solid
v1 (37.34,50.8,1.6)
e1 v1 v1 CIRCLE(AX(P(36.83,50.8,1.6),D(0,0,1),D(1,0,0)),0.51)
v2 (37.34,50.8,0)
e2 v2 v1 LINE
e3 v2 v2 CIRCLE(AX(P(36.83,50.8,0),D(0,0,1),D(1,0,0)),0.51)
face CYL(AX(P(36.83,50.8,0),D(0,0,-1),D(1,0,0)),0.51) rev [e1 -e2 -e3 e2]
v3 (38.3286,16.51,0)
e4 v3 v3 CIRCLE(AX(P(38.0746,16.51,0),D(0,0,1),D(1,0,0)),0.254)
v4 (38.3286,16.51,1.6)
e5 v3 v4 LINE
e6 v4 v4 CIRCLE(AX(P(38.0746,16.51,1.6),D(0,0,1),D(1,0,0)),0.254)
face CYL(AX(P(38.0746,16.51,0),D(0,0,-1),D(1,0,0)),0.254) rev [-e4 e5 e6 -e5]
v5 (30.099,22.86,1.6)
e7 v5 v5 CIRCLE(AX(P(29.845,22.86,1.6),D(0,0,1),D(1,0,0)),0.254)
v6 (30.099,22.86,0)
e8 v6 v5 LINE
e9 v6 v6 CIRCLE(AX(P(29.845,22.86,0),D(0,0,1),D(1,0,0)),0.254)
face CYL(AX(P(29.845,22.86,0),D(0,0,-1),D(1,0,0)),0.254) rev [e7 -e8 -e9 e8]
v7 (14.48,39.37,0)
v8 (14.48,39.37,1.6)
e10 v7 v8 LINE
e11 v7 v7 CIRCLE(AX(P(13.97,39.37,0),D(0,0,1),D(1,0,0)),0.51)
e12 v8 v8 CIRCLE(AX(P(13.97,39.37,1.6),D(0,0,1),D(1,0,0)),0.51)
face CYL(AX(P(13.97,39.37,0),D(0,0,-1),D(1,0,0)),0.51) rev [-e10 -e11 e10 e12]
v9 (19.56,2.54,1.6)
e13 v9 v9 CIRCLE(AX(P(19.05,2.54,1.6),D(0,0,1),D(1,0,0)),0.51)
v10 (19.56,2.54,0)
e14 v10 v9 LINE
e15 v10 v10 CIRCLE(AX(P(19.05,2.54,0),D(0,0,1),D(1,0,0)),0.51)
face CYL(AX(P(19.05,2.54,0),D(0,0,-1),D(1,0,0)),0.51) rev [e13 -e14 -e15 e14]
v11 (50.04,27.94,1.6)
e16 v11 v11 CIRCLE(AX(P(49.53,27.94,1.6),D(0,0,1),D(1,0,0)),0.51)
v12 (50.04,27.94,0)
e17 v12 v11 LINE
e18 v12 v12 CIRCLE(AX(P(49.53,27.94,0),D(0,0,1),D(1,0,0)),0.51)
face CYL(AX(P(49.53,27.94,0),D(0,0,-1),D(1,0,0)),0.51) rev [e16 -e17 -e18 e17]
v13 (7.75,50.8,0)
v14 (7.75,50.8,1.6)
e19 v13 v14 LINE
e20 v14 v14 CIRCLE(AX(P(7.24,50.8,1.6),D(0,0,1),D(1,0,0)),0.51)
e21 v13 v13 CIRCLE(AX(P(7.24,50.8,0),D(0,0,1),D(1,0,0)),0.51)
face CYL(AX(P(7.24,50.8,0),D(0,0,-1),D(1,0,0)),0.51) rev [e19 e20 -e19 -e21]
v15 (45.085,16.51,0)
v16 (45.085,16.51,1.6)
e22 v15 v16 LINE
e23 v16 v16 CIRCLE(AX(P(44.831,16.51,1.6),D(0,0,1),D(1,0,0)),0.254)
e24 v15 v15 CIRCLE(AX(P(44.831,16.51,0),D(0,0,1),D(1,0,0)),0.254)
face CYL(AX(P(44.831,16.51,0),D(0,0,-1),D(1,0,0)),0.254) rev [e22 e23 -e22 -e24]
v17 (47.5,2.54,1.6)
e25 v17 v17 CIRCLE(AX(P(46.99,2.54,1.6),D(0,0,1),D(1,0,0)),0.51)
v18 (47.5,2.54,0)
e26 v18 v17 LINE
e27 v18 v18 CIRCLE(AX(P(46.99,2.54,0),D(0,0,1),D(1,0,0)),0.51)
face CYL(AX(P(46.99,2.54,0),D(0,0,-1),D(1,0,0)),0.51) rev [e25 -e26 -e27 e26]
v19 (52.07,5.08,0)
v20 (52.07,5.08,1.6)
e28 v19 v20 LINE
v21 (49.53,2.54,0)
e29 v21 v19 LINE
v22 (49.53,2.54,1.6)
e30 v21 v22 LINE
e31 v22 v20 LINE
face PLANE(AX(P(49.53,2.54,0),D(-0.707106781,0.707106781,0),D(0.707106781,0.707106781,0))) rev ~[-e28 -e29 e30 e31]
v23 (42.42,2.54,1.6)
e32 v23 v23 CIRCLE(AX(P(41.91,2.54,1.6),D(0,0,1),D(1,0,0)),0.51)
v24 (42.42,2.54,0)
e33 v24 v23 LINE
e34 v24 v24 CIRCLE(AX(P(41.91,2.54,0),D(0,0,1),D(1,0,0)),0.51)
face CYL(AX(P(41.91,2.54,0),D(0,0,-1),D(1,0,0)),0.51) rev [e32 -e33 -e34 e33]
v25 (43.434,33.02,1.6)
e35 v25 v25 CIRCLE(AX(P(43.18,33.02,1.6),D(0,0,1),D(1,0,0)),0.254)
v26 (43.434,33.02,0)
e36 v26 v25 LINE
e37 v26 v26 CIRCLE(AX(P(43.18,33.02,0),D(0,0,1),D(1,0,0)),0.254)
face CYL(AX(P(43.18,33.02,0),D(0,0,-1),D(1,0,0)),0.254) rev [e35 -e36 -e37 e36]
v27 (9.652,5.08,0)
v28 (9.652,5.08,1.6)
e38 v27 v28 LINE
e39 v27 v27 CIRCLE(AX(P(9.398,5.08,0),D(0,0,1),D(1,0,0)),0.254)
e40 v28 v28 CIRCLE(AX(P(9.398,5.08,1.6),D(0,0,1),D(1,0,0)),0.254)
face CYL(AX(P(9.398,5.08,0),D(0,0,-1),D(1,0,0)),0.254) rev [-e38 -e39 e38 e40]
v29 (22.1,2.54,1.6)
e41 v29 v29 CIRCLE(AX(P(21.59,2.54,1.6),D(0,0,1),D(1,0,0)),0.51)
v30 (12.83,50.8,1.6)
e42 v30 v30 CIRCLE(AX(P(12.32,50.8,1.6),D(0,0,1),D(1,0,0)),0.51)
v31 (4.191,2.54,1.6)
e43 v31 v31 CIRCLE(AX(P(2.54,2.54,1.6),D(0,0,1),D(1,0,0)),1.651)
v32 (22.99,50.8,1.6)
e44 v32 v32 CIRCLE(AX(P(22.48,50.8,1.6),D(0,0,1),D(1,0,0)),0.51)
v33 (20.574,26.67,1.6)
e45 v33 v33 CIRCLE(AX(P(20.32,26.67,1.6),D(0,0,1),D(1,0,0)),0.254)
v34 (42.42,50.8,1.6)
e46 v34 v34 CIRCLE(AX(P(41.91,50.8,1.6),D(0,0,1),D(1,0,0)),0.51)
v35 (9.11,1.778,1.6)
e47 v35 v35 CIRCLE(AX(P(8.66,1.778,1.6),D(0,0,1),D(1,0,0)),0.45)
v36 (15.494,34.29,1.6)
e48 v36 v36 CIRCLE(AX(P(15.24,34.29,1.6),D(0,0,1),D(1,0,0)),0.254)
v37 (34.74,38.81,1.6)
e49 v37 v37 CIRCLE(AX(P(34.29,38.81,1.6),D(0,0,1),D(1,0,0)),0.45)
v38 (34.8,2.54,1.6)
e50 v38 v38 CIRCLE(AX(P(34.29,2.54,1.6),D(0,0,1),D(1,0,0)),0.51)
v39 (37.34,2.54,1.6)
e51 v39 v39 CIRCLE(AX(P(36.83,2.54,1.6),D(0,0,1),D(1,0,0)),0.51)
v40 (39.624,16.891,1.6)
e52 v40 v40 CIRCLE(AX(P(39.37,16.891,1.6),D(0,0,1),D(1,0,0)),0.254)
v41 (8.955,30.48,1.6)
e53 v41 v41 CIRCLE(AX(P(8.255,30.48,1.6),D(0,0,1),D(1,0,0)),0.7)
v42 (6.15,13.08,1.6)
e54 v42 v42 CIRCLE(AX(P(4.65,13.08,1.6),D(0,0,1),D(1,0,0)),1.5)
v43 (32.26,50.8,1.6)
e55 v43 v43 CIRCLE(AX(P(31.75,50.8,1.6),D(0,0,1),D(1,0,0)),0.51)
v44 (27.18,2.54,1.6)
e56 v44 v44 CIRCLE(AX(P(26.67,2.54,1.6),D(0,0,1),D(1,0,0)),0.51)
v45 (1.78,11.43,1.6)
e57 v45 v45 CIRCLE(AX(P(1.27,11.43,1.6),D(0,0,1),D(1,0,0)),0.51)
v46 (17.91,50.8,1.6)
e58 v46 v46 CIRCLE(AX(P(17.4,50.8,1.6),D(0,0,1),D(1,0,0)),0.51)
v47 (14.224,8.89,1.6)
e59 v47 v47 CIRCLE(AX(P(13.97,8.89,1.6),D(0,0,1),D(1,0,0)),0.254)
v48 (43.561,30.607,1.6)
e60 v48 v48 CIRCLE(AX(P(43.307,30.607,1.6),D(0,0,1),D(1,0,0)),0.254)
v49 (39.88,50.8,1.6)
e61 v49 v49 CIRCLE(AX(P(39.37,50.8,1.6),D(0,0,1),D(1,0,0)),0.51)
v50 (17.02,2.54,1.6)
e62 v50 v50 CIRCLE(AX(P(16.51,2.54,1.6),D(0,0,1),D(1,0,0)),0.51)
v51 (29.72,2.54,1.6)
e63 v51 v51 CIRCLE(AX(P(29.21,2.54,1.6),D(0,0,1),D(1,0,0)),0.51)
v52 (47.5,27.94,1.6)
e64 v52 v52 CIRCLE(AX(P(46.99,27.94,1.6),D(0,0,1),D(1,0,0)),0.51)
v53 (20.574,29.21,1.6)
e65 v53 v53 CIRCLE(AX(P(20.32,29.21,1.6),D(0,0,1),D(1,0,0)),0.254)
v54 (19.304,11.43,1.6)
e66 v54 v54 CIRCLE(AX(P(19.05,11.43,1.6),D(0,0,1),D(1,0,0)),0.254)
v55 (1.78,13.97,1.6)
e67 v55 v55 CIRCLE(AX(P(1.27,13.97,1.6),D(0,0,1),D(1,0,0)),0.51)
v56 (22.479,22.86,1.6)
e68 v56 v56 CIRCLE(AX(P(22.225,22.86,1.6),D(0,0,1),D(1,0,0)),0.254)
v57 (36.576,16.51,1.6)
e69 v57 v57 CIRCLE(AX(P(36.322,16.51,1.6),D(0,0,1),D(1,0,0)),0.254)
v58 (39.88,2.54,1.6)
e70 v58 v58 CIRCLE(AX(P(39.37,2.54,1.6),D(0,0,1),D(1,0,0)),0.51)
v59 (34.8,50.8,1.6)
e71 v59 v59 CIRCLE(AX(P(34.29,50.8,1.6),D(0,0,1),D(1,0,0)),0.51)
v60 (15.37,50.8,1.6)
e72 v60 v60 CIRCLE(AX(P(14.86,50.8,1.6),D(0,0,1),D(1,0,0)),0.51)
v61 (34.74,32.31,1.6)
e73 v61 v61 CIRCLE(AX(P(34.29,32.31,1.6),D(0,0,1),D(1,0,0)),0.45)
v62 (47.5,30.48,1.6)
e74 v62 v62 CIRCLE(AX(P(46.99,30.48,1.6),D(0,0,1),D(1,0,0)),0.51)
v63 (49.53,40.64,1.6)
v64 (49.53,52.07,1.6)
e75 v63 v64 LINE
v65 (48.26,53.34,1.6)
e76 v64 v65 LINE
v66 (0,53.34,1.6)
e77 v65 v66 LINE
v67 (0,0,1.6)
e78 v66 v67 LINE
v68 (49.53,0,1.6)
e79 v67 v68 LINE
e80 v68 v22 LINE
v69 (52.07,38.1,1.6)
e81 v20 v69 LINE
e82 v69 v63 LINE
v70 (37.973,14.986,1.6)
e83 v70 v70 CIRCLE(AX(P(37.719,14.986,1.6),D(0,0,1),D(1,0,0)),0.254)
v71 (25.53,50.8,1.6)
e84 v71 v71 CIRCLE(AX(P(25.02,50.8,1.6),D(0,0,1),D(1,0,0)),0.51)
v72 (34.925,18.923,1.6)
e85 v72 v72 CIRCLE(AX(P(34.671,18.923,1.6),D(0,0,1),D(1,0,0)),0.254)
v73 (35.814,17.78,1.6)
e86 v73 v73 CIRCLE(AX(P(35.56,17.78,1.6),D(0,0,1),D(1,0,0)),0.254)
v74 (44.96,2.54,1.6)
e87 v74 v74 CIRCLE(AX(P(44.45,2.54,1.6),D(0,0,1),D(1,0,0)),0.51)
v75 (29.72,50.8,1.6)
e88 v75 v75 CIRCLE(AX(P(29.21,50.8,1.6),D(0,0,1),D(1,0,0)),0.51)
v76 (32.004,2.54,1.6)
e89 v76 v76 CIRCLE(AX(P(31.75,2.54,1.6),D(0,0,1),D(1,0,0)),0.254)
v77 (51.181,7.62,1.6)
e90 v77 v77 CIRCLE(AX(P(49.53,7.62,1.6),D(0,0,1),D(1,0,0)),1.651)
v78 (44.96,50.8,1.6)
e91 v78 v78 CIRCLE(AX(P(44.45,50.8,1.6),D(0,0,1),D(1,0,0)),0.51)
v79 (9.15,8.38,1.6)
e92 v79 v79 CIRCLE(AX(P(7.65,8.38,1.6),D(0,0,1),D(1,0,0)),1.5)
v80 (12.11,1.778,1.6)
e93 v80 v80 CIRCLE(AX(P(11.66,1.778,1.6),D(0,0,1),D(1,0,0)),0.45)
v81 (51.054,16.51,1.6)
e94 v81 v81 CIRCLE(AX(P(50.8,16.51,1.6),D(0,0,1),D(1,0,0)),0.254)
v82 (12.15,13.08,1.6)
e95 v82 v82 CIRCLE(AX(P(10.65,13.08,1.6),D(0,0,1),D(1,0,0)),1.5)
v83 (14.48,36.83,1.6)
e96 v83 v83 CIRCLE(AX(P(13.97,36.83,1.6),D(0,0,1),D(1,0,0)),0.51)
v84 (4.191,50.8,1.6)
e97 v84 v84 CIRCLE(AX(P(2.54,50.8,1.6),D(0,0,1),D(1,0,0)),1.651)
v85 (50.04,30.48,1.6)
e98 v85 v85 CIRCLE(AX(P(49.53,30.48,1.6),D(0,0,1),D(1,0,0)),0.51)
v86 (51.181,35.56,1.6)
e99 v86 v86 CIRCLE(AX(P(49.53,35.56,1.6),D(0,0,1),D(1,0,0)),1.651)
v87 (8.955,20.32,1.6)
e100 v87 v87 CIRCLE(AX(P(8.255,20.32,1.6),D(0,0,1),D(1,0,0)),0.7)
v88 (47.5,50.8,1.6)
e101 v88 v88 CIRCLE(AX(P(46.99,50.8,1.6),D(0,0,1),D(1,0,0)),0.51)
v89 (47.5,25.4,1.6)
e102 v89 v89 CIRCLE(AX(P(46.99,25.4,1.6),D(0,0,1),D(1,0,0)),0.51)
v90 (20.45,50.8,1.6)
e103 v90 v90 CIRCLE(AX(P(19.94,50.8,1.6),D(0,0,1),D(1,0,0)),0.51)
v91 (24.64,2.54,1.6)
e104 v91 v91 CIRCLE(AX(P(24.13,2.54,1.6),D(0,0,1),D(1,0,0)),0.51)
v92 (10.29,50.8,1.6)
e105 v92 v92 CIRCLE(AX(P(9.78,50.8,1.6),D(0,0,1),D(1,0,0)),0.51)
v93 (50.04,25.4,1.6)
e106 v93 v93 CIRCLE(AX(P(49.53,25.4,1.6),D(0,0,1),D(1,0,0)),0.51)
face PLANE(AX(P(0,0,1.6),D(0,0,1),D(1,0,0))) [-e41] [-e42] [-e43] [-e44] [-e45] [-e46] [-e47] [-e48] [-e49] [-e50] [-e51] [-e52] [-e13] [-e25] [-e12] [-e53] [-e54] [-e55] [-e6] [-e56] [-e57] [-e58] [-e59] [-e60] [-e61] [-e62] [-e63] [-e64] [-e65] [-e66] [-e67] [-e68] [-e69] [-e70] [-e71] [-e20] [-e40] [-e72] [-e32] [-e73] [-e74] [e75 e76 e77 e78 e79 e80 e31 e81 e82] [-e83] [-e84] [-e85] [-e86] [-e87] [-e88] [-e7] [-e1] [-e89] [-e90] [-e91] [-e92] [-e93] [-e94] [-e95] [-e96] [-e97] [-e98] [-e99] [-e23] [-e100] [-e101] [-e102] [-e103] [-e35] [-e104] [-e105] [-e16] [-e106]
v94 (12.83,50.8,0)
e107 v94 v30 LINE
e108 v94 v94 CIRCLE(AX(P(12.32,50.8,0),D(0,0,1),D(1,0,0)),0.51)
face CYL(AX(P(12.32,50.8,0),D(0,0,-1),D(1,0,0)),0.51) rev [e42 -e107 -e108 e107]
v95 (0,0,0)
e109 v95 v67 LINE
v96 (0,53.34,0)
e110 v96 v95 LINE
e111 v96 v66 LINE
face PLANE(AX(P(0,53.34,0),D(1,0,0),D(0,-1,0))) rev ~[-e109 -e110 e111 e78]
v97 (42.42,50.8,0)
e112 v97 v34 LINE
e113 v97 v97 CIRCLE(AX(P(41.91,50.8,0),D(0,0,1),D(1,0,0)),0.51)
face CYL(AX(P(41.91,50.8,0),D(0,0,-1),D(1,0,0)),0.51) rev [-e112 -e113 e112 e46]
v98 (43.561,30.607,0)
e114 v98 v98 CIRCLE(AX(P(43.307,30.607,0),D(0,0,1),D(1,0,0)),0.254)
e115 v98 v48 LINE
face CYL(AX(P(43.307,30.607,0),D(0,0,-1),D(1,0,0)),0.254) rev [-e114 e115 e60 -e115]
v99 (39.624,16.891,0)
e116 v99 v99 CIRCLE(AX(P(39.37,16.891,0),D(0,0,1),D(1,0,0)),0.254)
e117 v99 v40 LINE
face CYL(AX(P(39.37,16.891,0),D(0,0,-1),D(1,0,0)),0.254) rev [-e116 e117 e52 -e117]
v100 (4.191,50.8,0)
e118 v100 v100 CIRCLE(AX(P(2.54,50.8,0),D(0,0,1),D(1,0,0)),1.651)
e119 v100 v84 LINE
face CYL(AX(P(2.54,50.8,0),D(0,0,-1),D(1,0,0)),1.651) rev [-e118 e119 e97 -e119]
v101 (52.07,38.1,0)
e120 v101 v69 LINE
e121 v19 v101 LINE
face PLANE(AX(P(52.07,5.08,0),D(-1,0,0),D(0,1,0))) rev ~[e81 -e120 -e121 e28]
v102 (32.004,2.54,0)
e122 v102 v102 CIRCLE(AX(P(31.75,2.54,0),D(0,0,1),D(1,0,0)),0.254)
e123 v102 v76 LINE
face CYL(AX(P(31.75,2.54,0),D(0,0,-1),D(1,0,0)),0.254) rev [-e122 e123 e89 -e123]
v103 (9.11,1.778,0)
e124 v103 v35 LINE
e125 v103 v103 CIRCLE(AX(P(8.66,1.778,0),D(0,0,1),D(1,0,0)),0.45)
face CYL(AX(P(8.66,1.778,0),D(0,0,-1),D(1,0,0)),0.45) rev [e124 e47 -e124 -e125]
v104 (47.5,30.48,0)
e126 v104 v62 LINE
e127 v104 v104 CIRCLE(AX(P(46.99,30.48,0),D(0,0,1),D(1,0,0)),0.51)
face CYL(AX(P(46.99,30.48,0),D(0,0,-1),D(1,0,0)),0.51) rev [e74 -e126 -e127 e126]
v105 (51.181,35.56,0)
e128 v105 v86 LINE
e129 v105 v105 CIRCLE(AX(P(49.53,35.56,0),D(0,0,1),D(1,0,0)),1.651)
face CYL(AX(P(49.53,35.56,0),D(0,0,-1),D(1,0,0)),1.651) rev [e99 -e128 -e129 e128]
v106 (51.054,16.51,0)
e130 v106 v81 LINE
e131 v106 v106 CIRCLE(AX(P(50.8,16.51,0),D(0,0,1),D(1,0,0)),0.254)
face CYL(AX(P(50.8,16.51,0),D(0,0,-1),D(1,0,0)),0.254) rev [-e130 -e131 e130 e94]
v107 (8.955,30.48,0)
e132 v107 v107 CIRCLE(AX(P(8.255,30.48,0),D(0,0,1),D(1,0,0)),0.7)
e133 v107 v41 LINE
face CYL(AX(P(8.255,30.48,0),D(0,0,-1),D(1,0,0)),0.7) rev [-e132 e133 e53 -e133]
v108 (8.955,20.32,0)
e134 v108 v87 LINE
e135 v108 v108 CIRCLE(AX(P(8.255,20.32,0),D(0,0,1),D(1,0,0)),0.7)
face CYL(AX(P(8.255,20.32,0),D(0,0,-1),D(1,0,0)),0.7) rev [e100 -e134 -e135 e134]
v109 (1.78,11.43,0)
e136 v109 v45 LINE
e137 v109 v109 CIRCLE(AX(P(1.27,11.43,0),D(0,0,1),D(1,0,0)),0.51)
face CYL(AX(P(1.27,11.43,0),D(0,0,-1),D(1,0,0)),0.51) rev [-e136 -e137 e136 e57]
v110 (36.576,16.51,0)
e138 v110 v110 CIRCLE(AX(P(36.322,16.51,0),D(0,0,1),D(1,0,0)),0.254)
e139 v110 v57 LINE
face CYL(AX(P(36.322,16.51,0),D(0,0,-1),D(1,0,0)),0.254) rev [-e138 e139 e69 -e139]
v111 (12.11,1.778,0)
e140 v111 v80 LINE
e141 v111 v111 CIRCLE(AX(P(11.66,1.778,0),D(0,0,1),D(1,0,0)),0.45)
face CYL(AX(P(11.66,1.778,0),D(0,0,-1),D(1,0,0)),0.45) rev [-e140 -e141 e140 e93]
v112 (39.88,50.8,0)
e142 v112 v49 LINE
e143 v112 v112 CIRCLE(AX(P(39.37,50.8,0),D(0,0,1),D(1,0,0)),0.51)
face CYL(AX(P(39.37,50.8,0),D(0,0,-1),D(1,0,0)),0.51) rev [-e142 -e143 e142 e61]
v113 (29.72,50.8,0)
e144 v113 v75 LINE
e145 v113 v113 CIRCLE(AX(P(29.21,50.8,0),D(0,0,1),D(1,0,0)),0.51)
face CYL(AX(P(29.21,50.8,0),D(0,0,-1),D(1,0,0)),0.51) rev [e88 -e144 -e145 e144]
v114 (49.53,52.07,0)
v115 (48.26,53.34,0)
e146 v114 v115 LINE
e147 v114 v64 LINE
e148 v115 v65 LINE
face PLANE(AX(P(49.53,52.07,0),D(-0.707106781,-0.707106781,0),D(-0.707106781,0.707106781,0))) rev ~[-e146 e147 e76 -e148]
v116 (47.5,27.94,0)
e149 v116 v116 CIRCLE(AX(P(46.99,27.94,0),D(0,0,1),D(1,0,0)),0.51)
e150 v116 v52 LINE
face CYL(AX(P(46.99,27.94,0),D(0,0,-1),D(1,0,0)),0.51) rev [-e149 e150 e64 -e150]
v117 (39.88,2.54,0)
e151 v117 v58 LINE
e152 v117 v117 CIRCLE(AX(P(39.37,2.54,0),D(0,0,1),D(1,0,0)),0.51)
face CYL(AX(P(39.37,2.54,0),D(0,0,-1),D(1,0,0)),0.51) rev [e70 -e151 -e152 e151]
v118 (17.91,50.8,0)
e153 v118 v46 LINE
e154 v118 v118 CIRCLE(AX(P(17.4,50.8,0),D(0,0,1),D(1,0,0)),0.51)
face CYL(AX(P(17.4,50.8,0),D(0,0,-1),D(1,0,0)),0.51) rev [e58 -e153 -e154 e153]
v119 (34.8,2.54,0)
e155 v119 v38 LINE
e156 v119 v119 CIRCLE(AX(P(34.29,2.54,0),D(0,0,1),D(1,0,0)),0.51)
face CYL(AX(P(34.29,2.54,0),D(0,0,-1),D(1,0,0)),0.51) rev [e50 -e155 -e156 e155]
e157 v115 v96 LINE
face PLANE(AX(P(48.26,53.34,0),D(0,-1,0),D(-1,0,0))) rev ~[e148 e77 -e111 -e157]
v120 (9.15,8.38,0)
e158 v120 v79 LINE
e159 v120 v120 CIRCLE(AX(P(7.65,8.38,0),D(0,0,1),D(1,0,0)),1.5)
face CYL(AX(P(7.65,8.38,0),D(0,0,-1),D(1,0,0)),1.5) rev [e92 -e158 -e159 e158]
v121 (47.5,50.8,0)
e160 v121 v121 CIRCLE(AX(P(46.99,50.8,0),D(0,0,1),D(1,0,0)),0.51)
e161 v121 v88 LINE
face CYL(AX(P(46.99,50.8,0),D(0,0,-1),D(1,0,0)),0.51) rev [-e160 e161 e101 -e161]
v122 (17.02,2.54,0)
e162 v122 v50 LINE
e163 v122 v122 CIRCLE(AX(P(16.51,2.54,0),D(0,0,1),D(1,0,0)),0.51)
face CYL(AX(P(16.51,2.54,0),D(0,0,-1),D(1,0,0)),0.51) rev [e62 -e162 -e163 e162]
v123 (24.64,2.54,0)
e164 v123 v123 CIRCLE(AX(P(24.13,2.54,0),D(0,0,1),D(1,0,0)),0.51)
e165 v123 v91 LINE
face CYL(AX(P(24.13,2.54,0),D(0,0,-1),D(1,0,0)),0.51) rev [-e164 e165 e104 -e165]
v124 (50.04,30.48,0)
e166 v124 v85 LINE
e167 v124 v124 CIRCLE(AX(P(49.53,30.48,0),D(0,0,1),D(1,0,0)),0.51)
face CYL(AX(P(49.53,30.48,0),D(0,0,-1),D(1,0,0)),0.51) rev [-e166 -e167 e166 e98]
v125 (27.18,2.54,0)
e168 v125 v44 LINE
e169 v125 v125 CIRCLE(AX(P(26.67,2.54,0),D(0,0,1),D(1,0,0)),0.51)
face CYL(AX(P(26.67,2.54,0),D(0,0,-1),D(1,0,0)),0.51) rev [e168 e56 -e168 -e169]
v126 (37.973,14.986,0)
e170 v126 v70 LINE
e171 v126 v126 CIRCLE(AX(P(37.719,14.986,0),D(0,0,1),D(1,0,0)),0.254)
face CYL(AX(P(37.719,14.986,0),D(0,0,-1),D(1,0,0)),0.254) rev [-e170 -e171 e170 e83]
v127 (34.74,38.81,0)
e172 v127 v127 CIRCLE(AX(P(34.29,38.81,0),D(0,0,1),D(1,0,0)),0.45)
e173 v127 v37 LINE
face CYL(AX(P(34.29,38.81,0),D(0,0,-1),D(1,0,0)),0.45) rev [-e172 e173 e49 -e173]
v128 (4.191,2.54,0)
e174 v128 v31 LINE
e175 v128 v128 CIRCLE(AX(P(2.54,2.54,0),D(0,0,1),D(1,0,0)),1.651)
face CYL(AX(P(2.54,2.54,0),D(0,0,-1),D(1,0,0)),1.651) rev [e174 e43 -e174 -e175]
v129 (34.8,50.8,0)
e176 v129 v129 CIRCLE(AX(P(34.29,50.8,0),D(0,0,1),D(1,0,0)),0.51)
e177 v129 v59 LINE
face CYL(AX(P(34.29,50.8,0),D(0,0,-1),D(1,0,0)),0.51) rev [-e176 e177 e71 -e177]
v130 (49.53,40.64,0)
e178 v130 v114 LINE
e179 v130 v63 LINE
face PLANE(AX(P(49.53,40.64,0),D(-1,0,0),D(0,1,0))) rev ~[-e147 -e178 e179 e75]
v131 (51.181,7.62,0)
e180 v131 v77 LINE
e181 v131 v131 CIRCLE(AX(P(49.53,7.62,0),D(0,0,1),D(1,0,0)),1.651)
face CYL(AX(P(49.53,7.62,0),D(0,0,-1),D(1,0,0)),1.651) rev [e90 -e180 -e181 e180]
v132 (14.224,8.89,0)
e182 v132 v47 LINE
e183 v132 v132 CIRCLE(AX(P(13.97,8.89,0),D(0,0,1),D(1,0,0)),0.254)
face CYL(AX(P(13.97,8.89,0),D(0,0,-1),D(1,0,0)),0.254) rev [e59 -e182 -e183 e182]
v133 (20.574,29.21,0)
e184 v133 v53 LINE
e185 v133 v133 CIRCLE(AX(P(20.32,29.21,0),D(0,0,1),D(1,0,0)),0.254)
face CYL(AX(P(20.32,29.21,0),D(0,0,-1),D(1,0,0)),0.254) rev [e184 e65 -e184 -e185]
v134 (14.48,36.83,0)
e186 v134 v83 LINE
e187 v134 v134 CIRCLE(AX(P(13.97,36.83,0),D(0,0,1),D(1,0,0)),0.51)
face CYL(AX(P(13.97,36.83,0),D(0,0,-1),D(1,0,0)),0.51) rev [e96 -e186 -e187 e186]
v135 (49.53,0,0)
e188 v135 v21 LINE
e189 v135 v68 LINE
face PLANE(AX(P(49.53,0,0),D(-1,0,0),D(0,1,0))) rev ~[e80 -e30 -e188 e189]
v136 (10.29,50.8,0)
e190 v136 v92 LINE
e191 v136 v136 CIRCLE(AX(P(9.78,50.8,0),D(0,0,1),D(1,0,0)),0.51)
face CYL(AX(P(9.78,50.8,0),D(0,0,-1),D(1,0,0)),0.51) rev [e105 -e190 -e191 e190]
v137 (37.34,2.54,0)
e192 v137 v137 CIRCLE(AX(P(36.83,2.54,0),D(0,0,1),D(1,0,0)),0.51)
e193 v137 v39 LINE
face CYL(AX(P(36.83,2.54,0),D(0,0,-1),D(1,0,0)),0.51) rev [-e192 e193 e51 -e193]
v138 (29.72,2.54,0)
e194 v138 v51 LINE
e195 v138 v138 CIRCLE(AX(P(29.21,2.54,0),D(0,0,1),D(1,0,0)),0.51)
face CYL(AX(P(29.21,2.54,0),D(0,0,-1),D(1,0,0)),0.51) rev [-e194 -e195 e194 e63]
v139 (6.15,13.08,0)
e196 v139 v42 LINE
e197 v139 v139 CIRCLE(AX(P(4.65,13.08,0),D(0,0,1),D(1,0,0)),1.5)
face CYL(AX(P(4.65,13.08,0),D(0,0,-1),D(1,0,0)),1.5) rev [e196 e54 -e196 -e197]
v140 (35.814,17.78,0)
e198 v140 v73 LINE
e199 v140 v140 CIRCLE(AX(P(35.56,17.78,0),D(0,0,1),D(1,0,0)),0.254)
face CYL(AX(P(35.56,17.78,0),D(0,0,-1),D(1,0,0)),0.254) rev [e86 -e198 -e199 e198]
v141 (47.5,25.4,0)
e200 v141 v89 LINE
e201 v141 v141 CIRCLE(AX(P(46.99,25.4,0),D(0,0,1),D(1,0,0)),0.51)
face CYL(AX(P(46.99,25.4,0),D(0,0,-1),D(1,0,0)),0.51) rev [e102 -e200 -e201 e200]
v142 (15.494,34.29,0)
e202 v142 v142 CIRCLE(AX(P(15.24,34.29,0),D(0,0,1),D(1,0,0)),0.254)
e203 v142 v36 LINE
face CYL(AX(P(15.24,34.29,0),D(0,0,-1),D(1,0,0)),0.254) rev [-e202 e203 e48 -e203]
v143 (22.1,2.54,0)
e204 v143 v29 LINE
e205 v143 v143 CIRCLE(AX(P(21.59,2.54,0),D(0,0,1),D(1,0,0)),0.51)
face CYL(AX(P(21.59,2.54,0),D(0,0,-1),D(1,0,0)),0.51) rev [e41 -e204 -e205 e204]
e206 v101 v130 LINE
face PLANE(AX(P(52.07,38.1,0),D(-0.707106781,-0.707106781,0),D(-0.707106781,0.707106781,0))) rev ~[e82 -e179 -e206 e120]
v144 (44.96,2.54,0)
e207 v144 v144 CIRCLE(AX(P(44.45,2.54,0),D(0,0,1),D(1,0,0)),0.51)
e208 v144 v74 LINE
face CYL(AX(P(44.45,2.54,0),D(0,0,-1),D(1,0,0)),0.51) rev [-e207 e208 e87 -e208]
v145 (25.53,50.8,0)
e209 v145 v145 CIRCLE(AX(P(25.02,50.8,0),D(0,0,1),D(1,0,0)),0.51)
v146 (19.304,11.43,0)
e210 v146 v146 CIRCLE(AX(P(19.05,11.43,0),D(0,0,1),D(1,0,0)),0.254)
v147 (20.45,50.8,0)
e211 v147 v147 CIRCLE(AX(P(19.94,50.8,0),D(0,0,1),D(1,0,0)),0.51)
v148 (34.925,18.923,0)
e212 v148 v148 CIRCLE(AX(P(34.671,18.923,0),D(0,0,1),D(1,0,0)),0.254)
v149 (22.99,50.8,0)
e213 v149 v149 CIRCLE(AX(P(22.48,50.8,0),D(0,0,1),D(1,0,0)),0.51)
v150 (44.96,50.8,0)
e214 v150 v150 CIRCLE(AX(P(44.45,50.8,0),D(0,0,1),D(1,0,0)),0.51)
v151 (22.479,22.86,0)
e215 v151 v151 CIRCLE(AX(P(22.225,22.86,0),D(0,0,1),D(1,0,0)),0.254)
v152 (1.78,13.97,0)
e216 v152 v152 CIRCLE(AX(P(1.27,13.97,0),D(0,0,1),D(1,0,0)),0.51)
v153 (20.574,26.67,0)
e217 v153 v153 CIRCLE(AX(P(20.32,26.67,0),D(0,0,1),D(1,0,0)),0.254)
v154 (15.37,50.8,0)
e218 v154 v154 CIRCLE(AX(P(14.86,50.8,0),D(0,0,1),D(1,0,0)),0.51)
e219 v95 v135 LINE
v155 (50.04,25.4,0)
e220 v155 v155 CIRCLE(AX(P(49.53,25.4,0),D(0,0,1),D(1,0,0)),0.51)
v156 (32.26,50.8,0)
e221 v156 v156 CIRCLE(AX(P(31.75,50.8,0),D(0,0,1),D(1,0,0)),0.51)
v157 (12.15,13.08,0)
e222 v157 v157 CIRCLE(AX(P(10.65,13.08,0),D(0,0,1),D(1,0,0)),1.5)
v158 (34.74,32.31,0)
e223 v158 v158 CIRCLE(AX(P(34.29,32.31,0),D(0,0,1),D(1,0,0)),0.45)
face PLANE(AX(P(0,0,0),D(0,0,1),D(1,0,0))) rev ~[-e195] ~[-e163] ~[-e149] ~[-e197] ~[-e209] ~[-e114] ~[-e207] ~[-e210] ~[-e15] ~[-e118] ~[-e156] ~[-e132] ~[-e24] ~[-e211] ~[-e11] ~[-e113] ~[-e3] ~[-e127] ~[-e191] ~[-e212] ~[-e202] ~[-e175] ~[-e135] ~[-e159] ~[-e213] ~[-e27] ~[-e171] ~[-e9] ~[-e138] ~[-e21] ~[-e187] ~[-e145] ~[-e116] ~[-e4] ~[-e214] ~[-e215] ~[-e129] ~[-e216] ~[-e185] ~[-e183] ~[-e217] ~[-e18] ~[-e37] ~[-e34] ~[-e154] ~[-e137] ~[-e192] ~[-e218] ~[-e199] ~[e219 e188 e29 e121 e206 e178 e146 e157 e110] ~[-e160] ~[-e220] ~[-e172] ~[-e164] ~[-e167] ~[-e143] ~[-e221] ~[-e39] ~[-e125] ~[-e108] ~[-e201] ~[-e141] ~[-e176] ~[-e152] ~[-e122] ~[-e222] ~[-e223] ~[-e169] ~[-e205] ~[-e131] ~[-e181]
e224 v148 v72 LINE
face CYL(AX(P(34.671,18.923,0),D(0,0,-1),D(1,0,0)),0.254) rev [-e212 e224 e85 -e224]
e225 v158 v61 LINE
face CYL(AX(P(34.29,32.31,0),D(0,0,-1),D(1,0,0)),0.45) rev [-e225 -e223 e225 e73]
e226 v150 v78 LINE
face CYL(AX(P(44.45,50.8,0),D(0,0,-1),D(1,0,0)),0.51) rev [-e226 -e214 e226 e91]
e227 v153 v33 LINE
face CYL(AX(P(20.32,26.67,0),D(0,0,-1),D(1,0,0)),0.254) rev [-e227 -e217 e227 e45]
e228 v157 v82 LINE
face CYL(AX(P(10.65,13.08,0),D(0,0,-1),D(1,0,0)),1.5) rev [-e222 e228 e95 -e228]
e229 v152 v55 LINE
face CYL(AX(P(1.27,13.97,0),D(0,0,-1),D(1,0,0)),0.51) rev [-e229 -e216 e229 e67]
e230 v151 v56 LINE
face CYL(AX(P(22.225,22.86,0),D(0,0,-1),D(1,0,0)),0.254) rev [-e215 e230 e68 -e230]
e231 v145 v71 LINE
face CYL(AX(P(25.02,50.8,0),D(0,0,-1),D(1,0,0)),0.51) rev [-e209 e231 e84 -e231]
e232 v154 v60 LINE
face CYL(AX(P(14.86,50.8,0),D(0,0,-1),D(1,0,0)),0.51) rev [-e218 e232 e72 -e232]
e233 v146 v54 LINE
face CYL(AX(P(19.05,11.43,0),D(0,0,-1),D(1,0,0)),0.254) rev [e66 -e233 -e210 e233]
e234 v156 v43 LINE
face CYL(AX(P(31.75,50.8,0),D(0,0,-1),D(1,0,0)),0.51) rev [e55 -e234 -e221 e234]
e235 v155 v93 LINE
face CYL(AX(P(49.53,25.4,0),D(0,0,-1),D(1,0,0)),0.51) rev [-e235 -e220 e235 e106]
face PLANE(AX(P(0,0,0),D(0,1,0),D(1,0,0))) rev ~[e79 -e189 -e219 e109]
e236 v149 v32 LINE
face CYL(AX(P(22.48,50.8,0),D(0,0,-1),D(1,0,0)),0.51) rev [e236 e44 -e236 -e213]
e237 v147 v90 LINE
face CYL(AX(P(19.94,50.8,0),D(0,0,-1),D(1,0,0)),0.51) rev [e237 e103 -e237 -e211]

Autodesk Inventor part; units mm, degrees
ref_plane "YZ Plane" through (0, 0, 0) normal (1, 0, 0) x (0, 1, 0)
ref_plane "XZ Plane" through (0, 0, 0) normal (0, 1, 0) x (-1, 0, 0)
ref_plane "XY Plane" through (0, 0, 0) normal (0, 0, 1) x (1, 0, 0)
sketch "Skizze1" plane through (0, 0, 0) normal (0, 0, 1) x (1, 0, 0)
  line L0 (0, 53.34) -> (0, 0)
  line L1 (0, 0) -> (49.53, 0)
  line L2 (49.53, 0) -> (49.53, 2.54)
  line L3 (49.53, 2.54) -> (52.07, 5.08)
  line L4 (52.07, 5.08) -> (52.07, 38.1)
  line L5 (52.07, 38.1) -> (49.53, 40.64)
  line L6 (49.53, 40.64) -> (49.53, 52.07)
  line L7 (49.53, 52.07) -> (48.26, 53.34)
  line L8 (48.26, 53.34) -> (0, 53.34)
  circle A0 centre (34.29, 38.81) radius 0.45
  circle A1 centre (34.29, 32.31) radius 0.45
  circle A2 centre (46.99, 50.8) radius 0.51
  circle A3 centre (44.45, 50.8) radius 0.51
  circle A4 centre (41.91, 50.8) radius 0.51
  circle A5 centre (39.37, 50.8) radius 0.51
  circle A6 centre (36.83, 50.8) radius 0.51
  circle A7 centre (34.29, 50.8) radius 0.51
  circle A8 centre (31.75, 50.8) radius 0.51
  circle A9 centre (29.21, 50.8) radius 0.51
  circle A10 centre (34.29, 2.54) radius 0.51
  circle A11 centre (36.83, 2.54) radius 0.51
  circle A12 centre (39.37, 2.54) radius 0.51
  circle A13 centre (41.91, 2.54) radius 0.51
  circle A14 centre (44.45, 2.54) radius 0.51
  circle A15 centre (46.99, 2.54) radius 0.51
  circle A16 centre (25.02, 50.8) radius 0.51
  circle A17 centre (22.48, 50.8) radius 0.51
  circle A18 centre (19.94, 50.8) radius 0.51
  circle A19 centre (17.4, 50.8) radius 0.51
  circle A20 centre (14.86, 50.8) radius 0.51
  circle A21 centre (12.32, 50.8) radius 0.51
  circle A22 centre (9.78, 50.8) radius 0.51
  circle A23 centre (7.24, 50.8) radius 0.51
  circle A24 centre (16.51, 2.54) radius 0.51
  circle A25 centre (19.05, 2.54) radius 0.51
  circle A26 centre (21.59, 2.54) radius 0.51
  circle A27 centre (24.13, 2.54) radius 0.51
  circle A28 centre (26.67, 2.54) radius 0.51
  circle A29 centre (29.21, 2.54) radius 0.51
  circle A30 centre (46.99, 30.48) radius 0.51
  circle A31 centre (49.53, 30.48) radius 0.51
  circle A32 centre (46.99, 27.94) radius 0.51
  circle A33 centre (49.53, 27.94) radius 0.51
  circle A34 centre (46.99, 25.4) radius 0.51
  circle A35 centre (49.53, 25.4) radius 0.51
  circle A36 centre (4.65, 13.08) radius 1.5
  circle A37 centre (7.65, 8.38) radius 1.5
  circle A38 centre (10.65, 13.08) radius 1.5
  circle A39 centre (13.97, 36.83) radius 0.51
  circle A40 centre (13.97, 39.37) radius 0.51
  circle A41 centre (1.27, 11.43) radius 0.51
  circle A42 centre (1.27, 13.97) radius 0.51
  circle A43 centre (8.255, 30.48) radius 0.7
  circle A44 centre (8.255, 20.32) radius 0.7
  circle A45 centre (11.66, 1.778) radius 0.45
  circle A46 centre (8.66, 1.778) radius 0.45
  circle A47 centre (2.54, 50.8) radius 1.651
  circle A48 centre (2.54, 2.54) radius 1.651
  circle A49 centre (49.53, 35.56) radius 1.651
  circle A50 centre (49.53, 7.62) radius 1.651
  circle A51 centre (37.719, 14.986) radius 0.254
  circle A52 centre (29.845, 22.86) radius 0.254
  circle A53 centre (22.225, 22.86) radius 0.254
  circle A54 centre (44.831, 16.51) radius 0.254
  circle A55 centre (13.97, 8.89) radius 0.254
  circle A56 centre (35.56, 17.78) radius 0.254
  circle A57 centre (34.671, 18.923) radius 0.254
  circle A58 centre (9.398, 5.08) radius 0.254
  circle A59 centre (39.37, 16.891) radius 0.254
  circle A60 centre (31.75, 2.54) radius 0.254
  circle A61 centre (15.24, 34.29) radius 0.254
  circle A62 centre (20.32, 26.67) radius 0.254
  circle A63 centre (43.307, 30.607) radius 0.254
  circle A64 centre (36.322, 16.51) radius 0.254
  circle A65 centre (20.32, 29.21) radius 0.254
  circle A66 centre (43.18, 33.02) radius 0.254
  circle A67 centre (38.0746, 16.51) radius 0.254
  circle A68 centre (50.8, 16.51) radius 0.254
  circle A69 centre (19.05, 11.43) radius 0.254
extrude "Arduino-Pro-v14.brd_Kontur" add sketch "Skizze1" along normal blind 1.6
properties part number "Arduino-Pro-v14.brd_Kontur"
